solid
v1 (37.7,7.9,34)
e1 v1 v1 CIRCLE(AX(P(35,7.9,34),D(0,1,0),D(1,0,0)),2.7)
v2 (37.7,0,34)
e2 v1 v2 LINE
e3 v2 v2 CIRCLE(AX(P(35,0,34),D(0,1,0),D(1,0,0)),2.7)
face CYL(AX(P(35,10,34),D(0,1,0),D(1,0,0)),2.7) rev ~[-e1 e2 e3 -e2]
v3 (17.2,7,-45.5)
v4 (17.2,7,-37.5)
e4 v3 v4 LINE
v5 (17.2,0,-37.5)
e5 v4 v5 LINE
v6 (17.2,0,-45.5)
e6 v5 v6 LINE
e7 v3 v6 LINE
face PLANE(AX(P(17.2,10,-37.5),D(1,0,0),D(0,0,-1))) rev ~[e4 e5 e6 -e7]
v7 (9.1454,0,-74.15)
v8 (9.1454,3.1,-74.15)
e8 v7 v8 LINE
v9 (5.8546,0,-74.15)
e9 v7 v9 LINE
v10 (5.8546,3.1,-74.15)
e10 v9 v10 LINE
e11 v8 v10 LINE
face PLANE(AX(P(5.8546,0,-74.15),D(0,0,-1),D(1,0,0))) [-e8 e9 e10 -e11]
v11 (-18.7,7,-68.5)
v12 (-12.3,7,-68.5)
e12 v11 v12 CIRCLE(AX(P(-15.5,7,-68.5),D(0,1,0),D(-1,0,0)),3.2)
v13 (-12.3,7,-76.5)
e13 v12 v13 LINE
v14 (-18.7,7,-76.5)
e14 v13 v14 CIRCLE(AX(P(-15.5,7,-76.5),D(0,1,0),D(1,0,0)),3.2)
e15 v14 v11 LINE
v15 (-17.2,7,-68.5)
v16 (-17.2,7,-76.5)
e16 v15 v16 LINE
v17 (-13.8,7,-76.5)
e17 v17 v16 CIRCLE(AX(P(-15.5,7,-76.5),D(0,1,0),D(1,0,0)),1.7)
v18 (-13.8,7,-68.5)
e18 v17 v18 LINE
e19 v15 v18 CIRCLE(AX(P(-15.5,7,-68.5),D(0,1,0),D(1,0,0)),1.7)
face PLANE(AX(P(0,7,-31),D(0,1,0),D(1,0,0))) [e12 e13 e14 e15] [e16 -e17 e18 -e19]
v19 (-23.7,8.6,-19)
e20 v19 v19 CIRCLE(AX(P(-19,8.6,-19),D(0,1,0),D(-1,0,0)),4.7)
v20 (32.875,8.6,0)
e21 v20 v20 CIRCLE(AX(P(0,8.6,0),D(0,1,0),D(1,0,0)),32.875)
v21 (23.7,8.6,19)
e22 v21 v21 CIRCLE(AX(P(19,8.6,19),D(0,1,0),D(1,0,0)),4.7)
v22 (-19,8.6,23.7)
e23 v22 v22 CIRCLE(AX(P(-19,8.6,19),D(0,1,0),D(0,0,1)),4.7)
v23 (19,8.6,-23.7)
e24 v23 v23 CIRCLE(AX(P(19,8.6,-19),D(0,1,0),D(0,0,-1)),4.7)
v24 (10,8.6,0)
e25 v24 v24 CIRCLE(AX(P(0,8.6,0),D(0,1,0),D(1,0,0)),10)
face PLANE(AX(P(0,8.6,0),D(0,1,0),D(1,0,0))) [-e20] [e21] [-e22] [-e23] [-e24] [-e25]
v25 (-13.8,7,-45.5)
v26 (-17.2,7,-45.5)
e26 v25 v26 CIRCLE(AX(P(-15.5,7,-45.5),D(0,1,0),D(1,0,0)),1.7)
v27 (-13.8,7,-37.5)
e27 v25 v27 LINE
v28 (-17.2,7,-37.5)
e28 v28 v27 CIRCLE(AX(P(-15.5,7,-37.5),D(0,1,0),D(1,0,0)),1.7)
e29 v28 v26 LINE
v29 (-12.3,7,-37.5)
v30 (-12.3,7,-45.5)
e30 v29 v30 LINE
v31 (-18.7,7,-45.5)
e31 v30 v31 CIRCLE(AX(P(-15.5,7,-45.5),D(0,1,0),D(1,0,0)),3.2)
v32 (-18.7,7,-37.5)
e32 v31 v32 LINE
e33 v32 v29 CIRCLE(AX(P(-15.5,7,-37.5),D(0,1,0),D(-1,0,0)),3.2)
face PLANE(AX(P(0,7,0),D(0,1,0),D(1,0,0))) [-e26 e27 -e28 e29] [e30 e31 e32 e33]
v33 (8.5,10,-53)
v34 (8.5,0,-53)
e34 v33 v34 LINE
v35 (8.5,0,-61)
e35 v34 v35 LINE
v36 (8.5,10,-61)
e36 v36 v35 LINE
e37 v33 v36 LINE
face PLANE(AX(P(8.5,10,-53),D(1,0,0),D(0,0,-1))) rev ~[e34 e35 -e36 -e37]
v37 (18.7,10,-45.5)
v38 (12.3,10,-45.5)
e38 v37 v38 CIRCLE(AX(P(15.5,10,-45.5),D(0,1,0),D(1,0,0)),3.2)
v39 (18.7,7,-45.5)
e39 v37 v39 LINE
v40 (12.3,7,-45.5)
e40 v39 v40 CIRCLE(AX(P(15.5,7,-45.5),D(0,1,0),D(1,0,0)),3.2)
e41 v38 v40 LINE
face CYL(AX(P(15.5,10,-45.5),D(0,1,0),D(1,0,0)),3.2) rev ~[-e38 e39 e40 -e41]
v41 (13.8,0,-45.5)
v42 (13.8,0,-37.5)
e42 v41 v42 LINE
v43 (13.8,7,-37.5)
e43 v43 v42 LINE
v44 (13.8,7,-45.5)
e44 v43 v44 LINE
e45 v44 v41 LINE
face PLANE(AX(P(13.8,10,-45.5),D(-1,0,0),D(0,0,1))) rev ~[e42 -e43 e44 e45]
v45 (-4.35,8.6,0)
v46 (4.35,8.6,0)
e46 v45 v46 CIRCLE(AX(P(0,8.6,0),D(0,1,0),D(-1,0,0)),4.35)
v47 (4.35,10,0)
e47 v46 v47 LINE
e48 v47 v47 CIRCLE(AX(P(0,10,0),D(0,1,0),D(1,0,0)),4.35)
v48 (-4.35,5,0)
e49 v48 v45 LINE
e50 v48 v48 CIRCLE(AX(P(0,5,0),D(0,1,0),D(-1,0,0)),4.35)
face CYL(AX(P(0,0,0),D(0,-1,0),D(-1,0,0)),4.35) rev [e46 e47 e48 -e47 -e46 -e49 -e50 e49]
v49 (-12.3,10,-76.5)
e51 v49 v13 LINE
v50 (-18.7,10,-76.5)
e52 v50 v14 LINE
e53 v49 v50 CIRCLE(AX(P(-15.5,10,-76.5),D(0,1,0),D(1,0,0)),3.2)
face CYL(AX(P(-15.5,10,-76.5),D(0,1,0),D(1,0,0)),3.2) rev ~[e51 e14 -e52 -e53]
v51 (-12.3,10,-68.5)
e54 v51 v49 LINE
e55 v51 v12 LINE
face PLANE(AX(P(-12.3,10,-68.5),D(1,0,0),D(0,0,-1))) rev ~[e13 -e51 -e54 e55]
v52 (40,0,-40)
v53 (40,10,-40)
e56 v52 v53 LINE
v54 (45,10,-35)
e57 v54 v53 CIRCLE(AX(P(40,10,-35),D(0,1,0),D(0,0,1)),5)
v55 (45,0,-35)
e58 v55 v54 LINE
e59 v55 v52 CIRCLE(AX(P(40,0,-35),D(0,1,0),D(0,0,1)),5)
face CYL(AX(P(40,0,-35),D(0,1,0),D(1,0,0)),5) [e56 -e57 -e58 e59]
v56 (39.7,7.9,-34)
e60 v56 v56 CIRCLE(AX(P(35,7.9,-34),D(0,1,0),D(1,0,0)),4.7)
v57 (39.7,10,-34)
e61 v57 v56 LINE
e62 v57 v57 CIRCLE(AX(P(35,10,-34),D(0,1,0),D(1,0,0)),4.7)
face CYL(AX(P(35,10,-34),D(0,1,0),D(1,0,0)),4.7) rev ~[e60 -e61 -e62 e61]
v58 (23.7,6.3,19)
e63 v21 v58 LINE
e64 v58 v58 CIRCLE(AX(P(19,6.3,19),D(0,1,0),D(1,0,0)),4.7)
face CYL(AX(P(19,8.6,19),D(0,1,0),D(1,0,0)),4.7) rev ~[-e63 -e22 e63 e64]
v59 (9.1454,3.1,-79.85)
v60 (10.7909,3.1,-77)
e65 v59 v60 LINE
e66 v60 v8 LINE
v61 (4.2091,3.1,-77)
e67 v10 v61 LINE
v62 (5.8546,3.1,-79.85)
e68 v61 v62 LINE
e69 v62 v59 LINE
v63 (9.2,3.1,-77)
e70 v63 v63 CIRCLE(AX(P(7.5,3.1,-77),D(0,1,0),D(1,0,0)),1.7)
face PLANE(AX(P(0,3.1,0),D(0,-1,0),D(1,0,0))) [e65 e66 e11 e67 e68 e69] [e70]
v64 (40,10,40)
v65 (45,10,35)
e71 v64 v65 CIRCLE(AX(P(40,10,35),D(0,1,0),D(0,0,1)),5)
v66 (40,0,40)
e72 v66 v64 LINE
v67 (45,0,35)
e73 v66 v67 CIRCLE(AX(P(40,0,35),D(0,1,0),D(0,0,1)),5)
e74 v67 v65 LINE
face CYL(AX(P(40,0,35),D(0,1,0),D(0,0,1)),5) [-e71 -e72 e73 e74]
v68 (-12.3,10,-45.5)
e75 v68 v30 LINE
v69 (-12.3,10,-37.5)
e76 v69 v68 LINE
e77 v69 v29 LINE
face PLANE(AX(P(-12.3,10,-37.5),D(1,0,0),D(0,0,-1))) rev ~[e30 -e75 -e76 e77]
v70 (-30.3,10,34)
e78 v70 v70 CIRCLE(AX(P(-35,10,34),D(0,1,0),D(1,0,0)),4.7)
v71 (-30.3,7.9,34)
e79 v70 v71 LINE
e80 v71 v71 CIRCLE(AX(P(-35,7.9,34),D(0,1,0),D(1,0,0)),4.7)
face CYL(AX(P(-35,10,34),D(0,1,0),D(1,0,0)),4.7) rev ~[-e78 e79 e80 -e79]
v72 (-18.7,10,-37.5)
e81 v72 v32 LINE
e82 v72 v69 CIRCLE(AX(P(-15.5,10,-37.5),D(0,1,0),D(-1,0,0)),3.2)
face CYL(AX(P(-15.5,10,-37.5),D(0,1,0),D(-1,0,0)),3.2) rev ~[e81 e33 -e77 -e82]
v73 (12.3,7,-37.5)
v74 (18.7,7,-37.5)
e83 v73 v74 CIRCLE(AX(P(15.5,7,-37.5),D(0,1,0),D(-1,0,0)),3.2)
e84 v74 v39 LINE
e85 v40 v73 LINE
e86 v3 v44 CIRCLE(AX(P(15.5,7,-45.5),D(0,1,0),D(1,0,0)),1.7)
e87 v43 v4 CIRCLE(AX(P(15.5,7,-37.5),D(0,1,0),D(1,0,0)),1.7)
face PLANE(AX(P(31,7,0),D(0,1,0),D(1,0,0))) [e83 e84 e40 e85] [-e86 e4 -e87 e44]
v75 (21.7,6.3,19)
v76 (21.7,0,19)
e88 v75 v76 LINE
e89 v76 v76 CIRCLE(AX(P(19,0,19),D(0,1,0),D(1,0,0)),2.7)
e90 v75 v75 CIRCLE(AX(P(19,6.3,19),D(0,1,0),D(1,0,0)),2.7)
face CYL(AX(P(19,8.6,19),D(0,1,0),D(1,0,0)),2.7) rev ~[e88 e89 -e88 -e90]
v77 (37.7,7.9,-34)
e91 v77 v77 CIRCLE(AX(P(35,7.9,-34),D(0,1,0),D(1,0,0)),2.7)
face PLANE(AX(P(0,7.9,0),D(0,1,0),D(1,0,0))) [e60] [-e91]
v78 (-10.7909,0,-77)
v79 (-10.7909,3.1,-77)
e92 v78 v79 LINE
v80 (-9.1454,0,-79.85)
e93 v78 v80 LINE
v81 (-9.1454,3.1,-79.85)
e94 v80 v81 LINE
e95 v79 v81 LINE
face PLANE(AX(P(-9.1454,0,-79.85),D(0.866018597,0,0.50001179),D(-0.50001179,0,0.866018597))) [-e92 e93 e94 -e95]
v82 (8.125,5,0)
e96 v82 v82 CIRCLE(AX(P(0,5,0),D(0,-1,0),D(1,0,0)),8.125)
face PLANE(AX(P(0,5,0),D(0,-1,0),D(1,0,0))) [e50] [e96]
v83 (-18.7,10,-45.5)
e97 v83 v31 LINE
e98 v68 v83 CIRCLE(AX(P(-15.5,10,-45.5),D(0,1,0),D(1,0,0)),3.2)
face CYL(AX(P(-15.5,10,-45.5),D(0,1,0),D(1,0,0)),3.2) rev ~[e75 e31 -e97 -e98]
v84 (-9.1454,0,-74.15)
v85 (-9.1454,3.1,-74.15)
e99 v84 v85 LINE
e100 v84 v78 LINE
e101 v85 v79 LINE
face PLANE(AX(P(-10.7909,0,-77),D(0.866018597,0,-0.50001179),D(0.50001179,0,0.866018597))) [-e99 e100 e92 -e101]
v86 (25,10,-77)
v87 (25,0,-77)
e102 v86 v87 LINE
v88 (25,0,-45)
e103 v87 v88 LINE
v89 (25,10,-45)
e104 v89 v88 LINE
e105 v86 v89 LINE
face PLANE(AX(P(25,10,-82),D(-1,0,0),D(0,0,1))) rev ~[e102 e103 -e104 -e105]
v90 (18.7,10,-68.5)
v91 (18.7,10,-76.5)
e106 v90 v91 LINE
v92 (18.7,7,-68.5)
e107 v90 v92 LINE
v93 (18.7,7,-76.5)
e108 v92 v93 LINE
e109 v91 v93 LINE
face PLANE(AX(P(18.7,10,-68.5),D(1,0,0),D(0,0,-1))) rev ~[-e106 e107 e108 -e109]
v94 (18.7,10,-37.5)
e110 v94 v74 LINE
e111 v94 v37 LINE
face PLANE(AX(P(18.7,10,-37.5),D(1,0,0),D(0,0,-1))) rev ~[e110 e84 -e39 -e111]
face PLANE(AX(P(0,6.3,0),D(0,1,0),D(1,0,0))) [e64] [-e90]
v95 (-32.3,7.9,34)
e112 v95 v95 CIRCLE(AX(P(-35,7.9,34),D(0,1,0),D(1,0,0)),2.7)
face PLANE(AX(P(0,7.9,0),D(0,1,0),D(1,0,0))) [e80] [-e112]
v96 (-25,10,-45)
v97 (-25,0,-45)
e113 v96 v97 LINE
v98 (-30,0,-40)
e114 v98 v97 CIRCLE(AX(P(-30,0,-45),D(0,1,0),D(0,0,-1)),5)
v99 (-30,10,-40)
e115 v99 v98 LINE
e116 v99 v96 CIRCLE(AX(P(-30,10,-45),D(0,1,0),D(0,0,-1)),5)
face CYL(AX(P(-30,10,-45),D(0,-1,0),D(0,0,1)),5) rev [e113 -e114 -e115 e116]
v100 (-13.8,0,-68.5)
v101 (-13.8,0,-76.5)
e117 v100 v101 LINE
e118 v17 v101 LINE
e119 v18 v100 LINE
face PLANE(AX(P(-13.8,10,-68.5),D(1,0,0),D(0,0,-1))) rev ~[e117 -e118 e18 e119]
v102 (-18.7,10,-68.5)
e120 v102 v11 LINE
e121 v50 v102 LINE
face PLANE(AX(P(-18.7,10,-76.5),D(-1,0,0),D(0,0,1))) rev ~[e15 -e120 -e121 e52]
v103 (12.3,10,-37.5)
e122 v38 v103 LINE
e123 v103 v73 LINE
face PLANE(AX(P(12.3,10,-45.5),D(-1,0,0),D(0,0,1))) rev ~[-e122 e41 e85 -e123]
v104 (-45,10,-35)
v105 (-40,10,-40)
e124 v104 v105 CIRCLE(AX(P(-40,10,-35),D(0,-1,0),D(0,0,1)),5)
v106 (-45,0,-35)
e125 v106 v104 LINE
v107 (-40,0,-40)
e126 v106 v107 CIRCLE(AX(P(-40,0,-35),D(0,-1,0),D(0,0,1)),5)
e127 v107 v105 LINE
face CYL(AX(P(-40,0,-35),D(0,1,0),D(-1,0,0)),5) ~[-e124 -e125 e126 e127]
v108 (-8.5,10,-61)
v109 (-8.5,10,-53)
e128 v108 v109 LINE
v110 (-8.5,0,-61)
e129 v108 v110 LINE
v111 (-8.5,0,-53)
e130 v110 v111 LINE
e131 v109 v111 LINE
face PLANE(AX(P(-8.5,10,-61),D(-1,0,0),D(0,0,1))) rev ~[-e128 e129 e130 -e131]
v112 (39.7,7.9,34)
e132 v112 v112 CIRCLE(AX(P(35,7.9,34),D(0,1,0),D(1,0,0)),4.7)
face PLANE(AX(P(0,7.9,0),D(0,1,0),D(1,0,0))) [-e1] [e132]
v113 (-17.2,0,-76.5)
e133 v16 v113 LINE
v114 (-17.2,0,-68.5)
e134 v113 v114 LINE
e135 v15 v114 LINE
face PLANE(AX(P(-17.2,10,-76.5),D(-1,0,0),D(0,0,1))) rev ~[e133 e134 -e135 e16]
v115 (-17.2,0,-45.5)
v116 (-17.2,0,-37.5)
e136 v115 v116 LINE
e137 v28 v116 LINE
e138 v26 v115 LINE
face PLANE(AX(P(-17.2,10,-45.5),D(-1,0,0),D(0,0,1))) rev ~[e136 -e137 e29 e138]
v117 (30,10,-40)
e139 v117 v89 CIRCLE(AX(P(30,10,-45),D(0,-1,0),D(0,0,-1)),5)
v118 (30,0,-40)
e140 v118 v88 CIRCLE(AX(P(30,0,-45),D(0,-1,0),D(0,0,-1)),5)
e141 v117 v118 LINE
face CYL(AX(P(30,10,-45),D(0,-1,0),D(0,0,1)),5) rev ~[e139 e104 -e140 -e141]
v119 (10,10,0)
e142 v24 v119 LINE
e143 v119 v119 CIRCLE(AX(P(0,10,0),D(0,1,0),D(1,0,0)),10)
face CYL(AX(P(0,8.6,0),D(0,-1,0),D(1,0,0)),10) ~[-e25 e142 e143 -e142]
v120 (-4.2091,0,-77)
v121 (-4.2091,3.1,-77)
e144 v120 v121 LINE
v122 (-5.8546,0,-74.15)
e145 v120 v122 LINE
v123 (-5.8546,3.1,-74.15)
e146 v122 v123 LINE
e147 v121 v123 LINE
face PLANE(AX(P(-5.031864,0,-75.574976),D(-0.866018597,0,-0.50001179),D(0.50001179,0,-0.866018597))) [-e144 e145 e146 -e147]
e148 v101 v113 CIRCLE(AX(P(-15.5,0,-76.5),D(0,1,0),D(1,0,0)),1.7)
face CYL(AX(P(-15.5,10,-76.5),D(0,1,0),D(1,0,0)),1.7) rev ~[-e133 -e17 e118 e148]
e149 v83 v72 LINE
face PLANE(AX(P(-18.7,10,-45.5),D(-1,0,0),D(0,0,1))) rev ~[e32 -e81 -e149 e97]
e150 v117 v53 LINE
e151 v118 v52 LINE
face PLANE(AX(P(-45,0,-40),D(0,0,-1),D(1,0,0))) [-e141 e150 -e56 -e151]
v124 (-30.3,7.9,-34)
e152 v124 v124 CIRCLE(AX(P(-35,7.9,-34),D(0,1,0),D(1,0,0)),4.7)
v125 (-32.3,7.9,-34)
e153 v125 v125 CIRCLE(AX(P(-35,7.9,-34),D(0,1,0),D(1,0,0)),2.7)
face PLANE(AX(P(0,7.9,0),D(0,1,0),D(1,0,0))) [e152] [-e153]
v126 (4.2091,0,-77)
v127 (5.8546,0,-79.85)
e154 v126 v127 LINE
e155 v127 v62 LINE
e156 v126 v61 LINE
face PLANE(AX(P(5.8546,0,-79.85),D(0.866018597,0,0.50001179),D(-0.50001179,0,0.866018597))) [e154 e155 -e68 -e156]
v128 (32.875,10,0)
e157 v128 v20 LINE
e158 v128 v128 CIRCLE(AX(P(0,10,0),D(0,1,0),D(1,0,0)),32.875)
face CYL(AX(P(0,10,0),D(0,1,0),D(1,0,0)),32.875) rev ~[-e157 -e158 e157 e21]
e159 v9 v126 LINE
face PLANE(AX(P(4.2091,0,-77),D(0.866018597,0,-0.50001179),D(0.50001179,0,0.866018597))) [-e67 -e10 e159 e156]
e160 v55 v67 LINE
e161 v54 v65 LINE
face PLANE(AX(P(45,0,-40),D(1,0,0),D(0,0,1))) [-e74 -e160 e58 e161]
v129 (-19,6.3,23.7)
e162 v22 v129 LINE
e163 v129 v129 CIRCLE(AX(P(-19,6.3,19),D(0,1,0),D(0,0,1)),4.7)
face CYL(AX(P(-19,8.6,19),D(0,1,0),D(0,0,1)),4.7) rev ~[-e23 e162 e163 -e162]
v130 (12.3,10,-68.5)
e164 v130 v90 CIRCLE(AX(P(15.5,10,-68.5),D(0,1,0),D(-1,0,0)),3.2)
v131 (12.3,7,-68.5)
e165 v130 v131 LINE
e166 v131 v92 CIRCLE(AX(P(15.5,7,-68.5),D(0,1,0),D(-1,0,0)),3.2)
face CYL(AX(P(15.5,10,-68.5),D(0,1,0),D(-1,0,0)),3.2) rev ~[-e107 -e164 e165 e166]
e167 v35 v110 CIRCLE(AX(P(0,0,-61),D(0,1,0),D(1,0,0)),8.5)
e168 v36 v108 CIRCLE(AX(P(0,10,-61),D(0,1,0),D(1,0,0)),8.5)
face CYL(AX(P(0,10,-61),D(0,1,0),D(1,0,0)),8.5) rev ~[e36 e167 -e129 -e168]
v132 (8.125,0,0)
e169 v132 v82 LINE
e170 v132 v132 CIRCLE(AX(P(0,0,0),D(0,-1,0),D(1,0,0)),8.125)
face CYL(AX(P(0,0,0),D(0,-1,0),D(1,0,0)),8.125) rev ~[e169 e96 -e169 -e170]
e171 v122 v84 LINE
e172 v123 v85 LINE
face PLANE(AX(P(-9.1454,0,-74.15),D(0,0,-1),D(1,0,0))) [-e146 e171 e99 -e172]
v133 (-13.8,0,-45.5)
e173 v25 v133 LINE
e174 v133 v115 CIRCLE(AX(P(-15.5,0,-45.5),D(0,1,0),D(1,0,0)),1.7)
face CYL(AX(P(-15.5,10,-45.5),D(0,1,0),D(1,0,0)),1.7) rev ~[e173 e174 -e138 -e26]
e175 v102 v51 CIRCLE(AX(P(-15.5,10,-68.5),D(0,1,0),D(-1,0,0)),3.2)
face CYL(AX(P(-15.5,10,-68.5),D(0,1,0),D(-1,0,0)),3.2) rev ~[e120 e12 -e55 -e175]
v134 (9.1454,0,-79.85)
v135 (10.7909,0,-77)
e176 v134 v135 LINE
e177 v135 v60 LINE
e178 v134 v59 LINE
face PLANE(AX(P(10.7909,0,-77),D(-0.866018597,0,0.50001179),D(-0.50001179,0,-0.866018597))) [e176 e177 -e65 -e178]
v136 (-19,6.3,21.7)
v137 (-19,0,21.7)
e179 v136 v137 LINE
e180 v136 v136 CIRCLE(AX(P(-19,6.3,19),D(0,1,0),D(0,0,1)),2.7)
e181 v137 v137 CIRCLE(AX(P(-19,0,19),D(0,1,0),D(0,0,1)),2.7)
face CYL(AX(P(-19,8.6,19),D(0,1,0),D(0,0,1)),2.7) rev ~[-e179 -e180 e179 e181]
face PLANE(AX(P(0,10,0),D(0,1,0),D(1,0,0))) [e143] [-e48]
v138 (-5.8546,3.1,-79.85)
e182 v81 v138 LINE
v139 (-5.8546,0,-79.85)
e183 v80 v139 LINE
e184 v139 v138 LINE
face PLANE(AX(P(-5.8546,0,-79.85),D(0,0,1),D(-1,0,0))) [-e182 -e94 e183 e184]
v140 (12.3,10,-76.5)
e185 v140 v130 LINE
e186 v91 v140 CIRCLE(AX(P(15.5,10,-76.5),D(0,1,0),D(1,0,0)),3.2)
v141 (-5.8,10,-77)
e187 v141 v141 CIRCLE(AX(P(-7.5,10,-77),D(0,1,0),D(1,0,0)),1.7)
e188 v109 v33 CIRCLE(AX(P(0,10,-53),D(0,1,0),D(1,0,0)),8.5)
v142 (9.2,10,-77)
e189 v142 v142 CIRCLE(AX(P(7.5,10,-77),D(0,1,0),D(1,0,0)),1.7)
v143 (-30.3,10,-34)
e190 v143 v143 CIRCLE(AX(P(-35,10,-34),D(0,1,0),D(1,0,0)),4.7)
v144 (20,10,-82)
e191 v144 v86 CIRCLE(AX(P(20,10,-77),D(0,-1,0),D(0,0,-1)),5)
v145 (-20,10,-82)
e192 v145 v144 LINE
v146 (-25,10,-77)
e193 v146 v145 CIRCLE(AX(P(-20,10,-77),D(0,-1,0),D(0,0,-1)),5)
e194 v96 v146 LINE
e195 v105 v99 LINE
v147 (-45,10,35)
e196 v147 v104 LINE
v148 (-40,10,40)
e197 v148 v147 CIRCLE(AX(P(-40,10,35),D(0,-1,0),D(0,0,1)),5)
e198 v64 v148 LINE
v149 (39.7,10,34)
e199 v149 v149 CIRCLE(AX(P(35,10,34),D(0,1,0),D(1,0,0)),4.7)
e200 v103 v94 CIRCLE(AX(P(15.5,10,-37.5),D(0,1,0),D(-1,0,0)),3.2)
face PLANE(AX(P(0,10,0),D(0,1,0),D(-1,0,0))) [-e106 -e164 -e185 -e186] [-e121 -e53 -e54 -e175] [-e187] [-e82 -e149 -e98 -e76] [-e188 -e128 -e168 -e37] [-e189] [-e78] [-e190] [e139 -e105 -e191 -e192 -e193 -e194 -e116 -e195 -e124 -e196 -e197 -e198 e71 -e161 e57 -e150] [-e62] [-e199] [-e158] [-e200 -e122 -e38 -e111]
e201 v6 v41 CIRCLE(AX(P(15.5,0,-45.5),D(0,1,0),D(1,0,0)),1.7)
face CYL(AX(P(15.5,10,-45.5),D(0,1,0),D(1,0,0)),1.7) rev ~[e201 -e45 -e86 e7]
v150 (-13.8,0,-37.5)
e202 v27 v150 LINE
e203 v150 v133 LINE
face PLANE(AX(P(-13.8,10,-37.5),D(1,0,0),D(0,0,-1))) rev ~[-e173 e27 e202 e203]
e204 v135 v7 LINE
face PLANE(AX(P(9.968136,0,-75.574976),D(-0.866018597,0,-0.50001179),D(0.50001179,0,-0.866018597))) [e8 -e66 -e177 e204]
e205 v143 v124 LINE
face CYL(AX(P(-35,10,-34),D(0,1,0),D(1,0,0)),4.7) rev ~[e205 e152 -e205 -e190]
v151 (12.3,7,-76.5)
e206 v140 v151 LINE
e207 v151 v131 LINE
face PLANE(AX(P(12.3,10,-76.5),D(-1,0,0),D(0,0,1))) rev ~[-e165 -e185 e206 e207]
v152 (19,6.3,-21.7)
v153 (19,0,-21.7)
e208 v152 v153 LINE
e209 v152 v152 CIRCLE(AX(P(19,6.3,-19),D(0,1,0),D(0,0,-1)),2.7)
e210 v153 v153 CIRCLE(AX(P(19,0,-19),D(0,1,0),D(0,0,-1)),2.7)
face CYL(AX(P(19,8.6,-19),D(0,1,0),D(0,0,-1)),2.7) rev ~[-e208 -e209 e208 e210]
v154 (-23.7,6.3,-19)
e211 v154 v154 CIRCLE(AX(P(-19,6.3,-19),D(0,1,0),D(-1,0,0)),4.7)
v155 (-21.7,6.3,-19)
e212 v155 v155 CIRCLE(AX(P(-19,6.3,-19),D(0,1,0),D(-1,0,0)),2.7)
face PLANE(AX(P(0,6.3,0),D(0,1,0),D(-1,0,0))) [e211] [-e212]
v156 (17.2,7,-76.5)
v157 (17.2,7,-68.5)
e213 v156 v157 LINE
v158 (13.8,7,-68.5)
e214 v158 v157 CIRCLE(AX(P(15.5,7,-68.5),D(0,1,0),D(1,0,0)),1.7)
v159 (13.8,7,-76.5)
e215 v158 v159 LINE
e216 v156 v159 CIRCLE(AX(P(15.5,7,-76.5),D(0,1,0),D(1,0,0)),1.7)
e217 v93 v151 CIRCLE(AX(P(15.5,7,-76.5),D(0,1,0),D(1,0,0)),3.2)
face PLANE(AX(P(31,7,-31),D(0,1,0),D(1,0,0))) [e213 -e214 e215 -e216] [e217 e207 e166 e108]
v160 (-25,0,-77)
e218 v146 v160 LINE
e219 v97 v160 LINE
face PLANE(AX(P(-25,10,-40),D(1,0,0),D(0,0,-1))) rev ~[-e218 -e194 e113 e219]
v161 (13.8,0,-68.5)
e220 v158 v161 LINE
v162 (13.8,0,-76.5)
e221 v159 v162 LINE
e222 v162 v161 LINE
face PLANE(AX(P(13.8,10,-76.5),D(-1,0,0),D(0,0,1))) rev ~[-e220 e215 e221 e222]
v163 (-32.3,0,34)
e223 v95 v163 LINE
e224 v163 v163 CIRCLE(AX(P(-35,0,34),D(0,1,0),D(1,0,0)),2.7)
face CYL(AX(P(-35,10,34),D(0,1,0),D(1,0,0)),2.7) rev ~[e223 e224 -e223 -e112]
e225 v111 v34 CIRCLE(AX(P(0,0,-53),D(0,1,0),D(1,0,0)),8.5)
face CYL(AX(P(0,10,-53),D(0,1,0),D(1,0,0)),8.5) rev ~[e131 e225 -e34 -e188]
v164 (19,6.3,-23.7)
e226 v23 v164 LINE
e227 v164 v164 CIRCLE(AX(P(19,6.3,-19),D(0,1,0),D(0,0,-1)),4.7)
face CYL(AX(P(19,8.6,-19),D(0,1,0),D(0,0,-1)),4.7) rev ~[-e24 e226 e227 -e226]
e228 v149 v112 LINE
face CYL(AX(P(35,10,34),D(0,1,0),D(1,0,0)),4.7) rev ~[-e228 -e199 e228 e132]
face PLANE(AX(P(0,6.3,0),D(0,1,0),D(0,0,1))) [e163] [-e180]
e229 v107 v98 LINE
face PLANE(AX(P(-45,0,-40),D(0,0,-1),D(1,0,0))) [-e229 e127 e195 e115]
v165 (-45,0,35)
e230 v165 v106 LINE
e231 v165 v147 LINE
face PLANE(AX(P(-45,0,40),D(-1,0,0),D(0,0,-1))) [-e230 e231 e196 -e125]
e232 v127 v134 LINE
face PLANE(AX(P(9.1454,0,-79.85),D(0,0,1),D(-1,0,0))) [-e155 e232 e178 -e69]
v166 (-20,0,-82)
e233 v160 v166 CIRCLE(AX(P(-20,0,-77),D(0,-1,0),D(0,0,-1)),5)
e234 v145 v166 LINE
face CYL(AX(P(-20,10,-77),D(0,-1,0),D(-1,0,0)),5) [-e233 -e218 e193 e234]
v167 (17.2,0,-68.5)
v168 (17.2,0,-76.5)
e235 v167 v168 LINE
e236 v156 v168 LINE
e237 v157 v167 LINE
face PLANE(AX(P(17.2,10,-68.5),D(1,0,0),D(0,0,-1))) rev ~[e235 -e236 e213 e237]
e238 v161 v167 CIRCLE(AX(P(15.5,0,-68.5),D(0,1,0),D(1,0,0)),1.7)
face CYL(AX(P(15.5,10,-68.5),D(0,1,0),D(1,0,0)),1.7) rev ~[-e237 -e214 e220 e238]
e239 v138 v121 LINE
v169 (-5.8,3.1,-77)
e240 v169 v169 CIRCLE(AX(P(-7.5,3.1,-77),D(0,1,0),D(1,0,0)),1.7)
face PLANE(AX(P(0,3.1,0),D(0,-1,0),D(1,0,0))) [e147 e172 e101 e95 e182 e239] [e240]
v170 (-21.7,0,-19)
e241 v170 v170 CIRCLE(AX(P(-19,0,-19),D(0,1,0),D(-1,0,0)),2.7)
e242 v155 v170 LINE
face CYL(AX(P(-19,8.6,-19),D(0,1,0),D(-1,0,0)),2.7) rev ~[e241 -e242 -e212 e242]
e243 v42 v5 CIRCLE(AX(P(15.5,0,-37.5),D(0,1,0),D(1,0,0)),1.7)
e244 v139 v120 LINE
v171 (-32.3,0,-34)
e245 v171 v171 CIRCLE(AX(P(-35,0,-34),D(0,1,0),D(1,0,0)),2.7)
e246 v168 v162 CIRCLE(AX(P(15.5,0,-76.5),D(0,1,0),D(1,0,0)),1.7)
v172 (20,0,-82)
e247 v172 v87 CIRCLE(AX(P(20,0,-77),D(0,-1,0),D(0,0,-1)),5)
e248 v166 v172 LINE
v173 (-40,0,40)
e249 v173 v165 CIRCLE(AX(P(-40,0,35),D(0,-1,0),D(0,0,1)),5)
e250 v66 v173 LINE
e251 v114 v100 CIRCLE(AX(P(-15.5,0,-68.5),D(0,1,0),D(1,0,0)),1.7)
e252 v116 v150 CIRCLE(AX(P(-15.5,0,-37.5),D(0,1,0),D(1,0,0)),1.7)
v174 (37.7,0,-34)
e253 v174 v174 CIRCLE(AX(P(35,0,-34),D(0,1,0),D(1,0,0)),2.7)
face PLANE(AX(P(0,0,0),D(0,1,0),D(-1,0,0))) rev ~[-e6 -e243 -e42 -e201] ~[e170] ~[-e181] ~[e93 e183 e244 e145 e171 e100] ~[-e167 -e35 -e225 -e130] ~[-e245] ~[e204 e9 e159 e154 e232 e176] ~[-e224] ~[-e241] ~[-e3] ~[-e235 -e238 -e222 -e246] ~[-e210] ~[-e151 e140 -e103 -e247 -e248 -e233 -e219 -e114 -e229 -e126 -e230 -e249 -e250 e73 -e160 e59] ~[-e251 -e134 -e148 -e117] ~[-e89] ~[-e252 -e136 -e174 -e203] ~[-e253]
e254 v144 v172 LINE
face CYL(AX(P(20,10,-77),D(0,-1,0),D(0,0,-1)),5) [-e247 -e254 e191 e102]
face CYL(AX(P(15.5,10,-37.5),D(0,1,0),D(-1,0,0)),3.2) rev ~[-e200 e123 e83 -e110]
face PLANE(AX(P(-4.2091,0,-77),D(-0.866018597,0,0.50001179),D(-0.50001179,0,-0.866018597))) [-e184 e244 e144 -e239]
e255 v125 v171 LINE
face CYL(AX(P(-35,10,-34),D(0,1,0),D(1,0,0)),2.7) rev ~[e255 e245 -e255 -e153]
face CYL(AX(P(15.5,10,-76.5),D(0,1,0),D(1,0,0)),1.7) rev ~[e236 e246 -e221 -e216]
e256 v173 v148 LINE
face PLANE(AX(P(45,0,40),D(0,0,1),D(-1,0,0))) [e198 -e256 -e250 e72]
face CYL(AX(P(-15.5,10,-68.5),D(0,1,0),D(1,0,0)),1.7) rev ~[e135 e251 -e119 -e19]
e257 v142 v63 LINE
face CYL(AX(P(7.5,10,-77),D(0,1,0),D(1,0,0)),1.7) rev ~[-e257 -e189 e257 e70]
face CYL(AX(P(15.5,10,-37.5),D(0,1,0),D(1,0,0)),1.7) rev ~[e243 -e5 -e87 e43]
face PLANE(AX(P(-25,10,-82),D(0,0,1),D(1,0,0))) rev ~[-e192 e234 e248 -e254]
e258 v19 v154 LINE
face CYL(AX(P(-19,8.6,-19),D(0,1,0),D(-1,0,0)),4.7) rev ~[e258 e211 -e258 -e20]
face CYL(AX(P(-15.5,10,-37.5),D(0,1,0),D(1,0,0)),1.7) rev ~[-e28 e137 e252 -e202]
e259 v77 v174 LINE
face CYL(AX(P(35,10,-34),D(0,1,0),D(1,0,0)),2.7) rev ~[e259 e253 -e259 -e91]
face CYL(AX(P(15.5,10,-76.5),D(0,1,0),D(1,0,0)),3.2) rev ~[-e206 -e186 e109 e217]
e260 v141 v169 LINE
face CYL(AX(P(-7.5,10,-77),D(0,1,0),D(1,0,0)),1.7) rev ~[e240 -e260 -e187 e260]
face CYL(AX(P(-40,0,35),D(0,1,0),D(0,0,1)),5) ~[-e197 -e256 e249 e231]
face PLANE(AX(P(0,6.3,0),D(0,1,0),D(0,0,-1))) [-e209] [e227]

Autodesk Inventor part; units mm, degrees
ref_plane "YZ Plane" through (0, 0, 0) normal (1, 0, 0) x (0, 1, 0)
ref_plane "XZ Plane" through (0, 0, 0) normal (0, 1, 0) x (-1, 0, 0)
ref_plane "XY Plane" through (0, 0, 0) normal (0, 0, 1) x (1, 0, 0)
sketch "Boceto1" plane through (0, 0, 0) normal (0, 1, 0) x (-1, 0, 0)
  circle A0 centre (0, 0) radius 4.35
  line L0 (-45, 40) -> (45, 40)
  line L1 (45, 40) -> (45, -40)
  line L2 (45, -40) -> (-45, -40)
  line L3 (-45, -40) -> (-45, 40)
  line L4 (-45, 40) -> (45, -40) construction
  line L5 (45, 40) -> (-45, -40) construction
  dimension "d0" = 8.7
  dimension "d1" = 80
  dimension "d2" = 90
extrude "Extrusión1" add sketch "Boceto1" along normal blind 10
sketch "Boceto2" plane through (0, 10, 0) normal (0, 1, 0) x (1, 0, 0)
  circle A0 centre (0, 0) radius 4.35 projected
  circle A1 centre (0, 0) radius 32.875
  dimension "d5" = 65.75
extrude "Extrusión2" cut sketch "Boceto2" against normal blind 1.4
sketch "Boceto3" plane through (0, 8.6, 0) normal (0, 1, 0) x (1, 0, 0)
  circle A0 centre (0, 0) radius 4.35 projected
  circle A1 centre (0, 0) radius 10
  dimension "d8" = 20
extrude "Extrusión3" add sketch "Boceto3" along normal up to surface (1.4 mm away)
sketch "Boceto4" plane through (0, 8.6, 0) normal (0, 1, 0) x (1, 0, 0)
  circle A0 centre (0, -18.25) radius 2.65
  circle A1 centre (0, 18.25) radius 2.65
  point P0 (0, 0)
  dimension "d11" = 5.3
  dimension "d12" = 36.5
  dimension "d13" = 18.25
extrude "Extrusión4" [suppressed]
sketch "Boceto5" plane through (0, 8.6, 0) normal (0, 1, 0) x (1, 0, 0)
  circle A0 centre (0, -18.25) radius 2.65 projected
  circle A1 centre (0, -18.25) radius 4.05
  circle A2 centre (0, 18.25) radius 2.65 projected
  circle A3 centre (0, 18.25) radius 4.05
  line L0 (-4.6765, -18.25) -> (-2.3383, -14.2)
  line L1 (-2.3383, -14.2) -> (2.3383, -14.2)
  line L2 (2.3383, -14.2) -> (4.6765, -18.25)
  line L3 (4.6765, -18.25) -> (2.3383, -22.3)
  line L4 (2.3383, -22.3) -> (-2.3383, -22.3)
  line L5 (-2.3383, -22.3) -> (-4.6765, -18.25)
  line L6 (-4.6765, 18.25) -> (-2.3383, 22.3)
  line L7 (-2.3383, 22.3) -> (2.3383, 22.3)
  line L8 (2.3383, 22.3) -> (4.6765, 18.25)
  line L9 (4.6765, 18.25) -> (2.3383, 14.2)
  line L10 (2.3383, 14.2) -> (-2.3383, 14.2)
  line L11 (-2.3383, 14.2) -> (-4.6765, 18.25)
  point P0 (0, 0)
  dimension "d16" = 8.1
extrude "Extrusión5" [suppressed]
sketch "Boceto6" plane through (0, 10, 0) normal (0, 1, 0) x (1, 0, 0)
  circle A0 centre (-35, 34) radius 2.7
  circle A1 centre (35, 34) radius 2.7
  circle A2 centre (-35, -34) radius 2.7
  circle A3 centre (35, -34) radius 2.7
  line L0 (-45, 40) -> (-45, -40) projected
  line L1 (45, 40) -> (-45, 40) projected
  line L2 (-45, -40) -> (45, -40) projected
  line L3 (45, -40) -> (45, 40) projected
  point P0 (0, 0)
  dimension "d19" = 5.4
  dimension "d20" = 10
  dimension "d21" = 6
  dimension "d22" = 6
  dimension "d23" = 10
extrude "Extrusión6" cut sketch "Boceto6" against normal through all contours A0 | A1 | A2 | A3
fillet "Empalme1" radius 5 4 edges at (45, 5, 40) (45, 5, -40) (-45, 5, 40) (-45, 5, -40)
sketch "Boceto7" plane through (0, 10, 0) normal (0, 1, 0) x (1, 0, 0)
  circle A0 centre (-35, -34) radius 2.7 projected
  circle A1 centre (-35, -34) radius 4.7
  circle A2 centre (35, -34) radius 2.7 projected
  circle A3 centre (35, -34) radius 4.7
  circle A4 centre (35, 34) radius 2.7 projected
  circle A5 centre (35, 34) radius 4.7
  circle A6 centre (-35, 34) radius 2.7 projected
  circle A7 centre (-35, 34) radius 4.7
  point P0 (0, 0)
  dimension "d27" = 9.4
extrude "Extrusión7" cut sketch "Boceto7" against normal blind 2.1 contours A0 | A1 | A2 | A3 | A4 | A5 | A6 | A7
sketch "Boceto9" plane through (0, 0, 0) normal (0, -1, 0) x (1, 0, 0)
  circle A0 centre (0, 0) radius 4.35 projected
  circle A1 centre (0, 0) radius 8.125
  dimension "d32" = 16.25
extrude "Extrusión9" cut sketch "Boceto9" against normal blind 5 contours A0 | A1
sketch "Boceto10" plane through (0, 8.6, 0) normal (0, 1, 0) x (1, 0, 0)
  circle A0 centre (19, -19) radius 2.7
  line L0 (26, 26) -> (-26, 26)
  line L1 (-26, 26) -> (-26, -26)
  line L2 (-26, -26) -> (26, -26)
  line L3 (26, -26) -> (26, 26)
  circle A1 centre (0, 0) radius 4.35 projected
  line L4 (26, 26) -> (-26, -26) construction
  line L5 (-26, 26) -> (26, -26) construction
  circle A2 centre (0, 0) radius 10 projected
  circle A3 centre (0, 0) radius 21
  circle A4 centre (19, -19) radius 5
  line L6 (-19, 19) -> (19, 19)
  line L7 (19, 19) -> (19, -19)
  line L8 (19, -19) -> (-19, -19)
  line L9 (-19, -19) -> (-19, 19)
  line L10 (-19, 19) -> (19, -19) construction
  line L11 (19, 19) -> (-19, -19) construction
  dimension "d35" = 52
  dimension "d36" = 52
  dimension "d37" = 42
  dimension "d38" = 5.4
  dimension "d39" = 10
  dimension "d40" = 38
extrude "Extrusión10" cut sketch "Boceto10" against normal through all contours A0 L8 L7 | L7 L8 A0
sketch "Boceto11" plane through (0, 8.6, 0) normal (0, 1, 0) x (1, 0, 0)
  circle A0 centre (19, -19) radius 2.7 projected
  circle A1 centre (19, -19) radius 4.7
  point P0 (0, 0)
  dimension "d43" = 9.4
extrude "Extrusión11" cut sketch "Boceto11" against normal blind 2.3
pattern_circular "Patrón circular1" count 4 over 360 about axis through (0, 8.6, 0) along (0, 1, 0) of "Extrusión10", "Extrusión11"
sketch "Boceto12" plane through (0, 10, 0) normal (0, 1, 0) x (1, 0, 0)
  line L0 (40, 40) -> (-40, 40) projected
  line L1 (25, 40) -> (-25, 40)
  line L2 (-25, 40) -> (-25, 82)
  line L3 (-25, 82) -> (25, 82)
  line L4 (25, 82) -> (25, 40)
  point P0 (0, 0)
  point P1 (-25, 40)
  dimension "d49" = 25
  dimension "d50" = 25
  dimension "d51" = 42
extrude "Extrusión12" add sketch "Boceto12" against normal up to surface (10 mm away)
fillet "Empalme2" radius 5 4 edges at (25, 5, -40) (25, 5, -82) (-25, 5, -82) (-25, 5, -40)
sketch "Boceto13" plane through (0, 10, 0) normal (0, 1, 0) x (1, 0, 0)
  circle A0 centre (0, 53) radius 8.5
  circle A1 centre (0, 61) radius 8.5
  line L0 (-8.5, 53) -> (8.5, 53)
  line L1 (8.5, 53) -> (8.5, 61)
  line L2 (8.5, 61) -> (-8.5, 61)
  line L3 (-8.5, 61) -> (-8.5, 53)
  line L4 (20, 82) -> (-20, 82) projected
  point P0 (0, 0)
  point P1 (-8.5, 61)
  dimension "d55" = 17
  dimension "d56" = 21
  dimension "d57" = 8
extrude "Extrusión13" cut sketch "Boceto13" against normal through all
sketch "Boceto14" plane through (0, 10, 0) normal (0, 1, 0) x (1, 0, 0)
  circle A0 centre (-15.5, 37.5) radius 1.7
  line L0 (-17.2, 37.5) -> (-13.8, 37.5)
  line L1 (-13.8, 37.5) -> (-13.8, 45.5)
  line L2 (-13.8, 45.5) -> (-17.2, 45.5)
  line L3 (-17.2, 45.5) -> (-17.2, 37.5)
  circle A1 centre (-15.5, 45.5) radius 1.7
  arc A2 (-8.5, 53) -> (8.5, 53) centre (0, 53) ccw projected
  line L4 (0, 53) -> (-15.5, 53)
  line L5 (-15.5, 53) -> (-15.5, 37.5)
  line L6 (-15.5, 37.5) -> (0, 37.5)
  line L7 (0, 37.5) -> (0, 53)
  point P0 (0, 0)
  point P1 (-13.8, 45.5)
  dimension "d62" = 3.4
  dimension "d60" = 15.5
  dimension "d61" = 15.5
  dimension "d63" = 8
extrude "Extrusión14" cut sketch "Boceto14" against normal through all contours L0 A0 | L3 A1 L5 A0 | A0 L5 L0 | L0 L5 A0 | A0 L5 A1 L1 | A1 L5 L2 | L2 L5 A1 | A1 L5 L2 | L2 L5 A1
pattern_linear "Patrón rectangular1" count 2 spacing 31 along (0, 0, -1) count 2 spacing 31 along (1, 0, 0) of "Extrusión14"
sketch "Boceto15" plane through (0, 10, 0) normal (0, 1, 0) x (1, 0, 0)
  arc A0 (-17.2, 37.5) -> (-13.8, 37.5) centre (-15.5, 37.5) ccw projected
  line L0 (-17.2, 37.5) -> (-17.2, 45.5) projected
  line L1 (-13.8, 45.5) -> (-13.8, 37.5) projected
  arc A1 (-13.8, 45.5) -> (-17.2, 45.5) centre (-15.5, 45.5) ccw projected
  line L2 (-18.7, 45.5) -> (-18.7, 37.5)
  arc A2 (-18.7, 37.5) -> (-12.3, 37.5) centre (-15.5, 37.5) ccw
  line L3 (-12.3, 37.5) -> (-12.3, 45.5)
  arc A3 (-12.3, 45.5) -> (-18.7, 45.5) centre (-15.5, 45.5) ccw
  point P0 (0, 0)
  point P1 (-17.2, 28.0165)
  point P2 (-13.8, 29.8383)
  dimension "d72" = 1.5
extrude "Extrusión15" cut sketch "Boceto15" against normal blind 3 contours L0 A1 L1 A0 | A3 L3 A2 L2
pattern_linear "Patrón rectangular2" count 2 spacing 31 along (0, 0, -1) count 2 spacing 31 along (1, 0, 0) of "Extrusión15"
sketch "Boceto16" plane through (0, 10, 0) normal (0, 1, 0) x (1, 0, 0)
  circle A0 centre (-7.5, 77) radius 1.7
  circle A1 centre (7.5, 77) radius 1.7
  arc A2 (8.5, 61) -> (-8.5, 61) centre (0, 61) ccw projected
  line L0 (20, 82) -> (-20, 82) projected
  point P0 (0, 0)
  dimension "d81" = 3.4
  dimension "d82" = 15
  dimension "d83" = 7.5
  dimension "d84" = 5
extrude "Extrusión16" cut sketch "Boceto16" against normal through all
sketch "Boceto17" plane through (0, 0, 0) normal (0, -1, 0) x (1, 0, 0)
  circle A0 centre (-7.5, -77) radius 1.7 projected
  circle A1 centre (-7.5, -77) radius 2.85
  circle A2 centre (7.5, -77) radius 1.7 projected
  circle A3 centre (7.5, -77) radius 2.85
  line L0 (-4.2091, -77) -> (-5.8546, -79.85)
  line L1 (-5.8546, -79.85) -> (-9.1454, -79.85)
  line L2 (-9.1454, -79.85) -> (-10.7909, -77)
  line L3 (-10.7909, -77) -> (-9.1454, -74.15)
  line L4 (-9.1454, -74.15) -> (-5.8546, -74.15)
  line L5 (-5.8546, -74.15) -> (-4.2091, -77)
  line L6 (10.7909, -77) -> (9.1454, -79.85)
  line L7 (9.1454, -79.85) -> (5.8546, -79.85)
  line L8 (5.8546, -79.85) -> (4.2091, -77)
  line L9 (4.2091, -77) -> (5.8546, -74.15)
  line L10 (5.8546, -74.15) -> (9.1454, -74.15)
  line L11 (9.1454, -74.15) -> (10.7909, -77)
  point P0 (0, 0)
  dimension "d87" = 5.7
extrude "Extrusión17" cut sketch "Boceto17" against normal blind 3.1 contours A0 | A1 | A1 L5 L0 | A1 L4 L5 | L0 L1 A1 | A1 L3 L4 | L1 L2 A1 | A1 L2 L3 | A2 | A3 | A3 L11 L6 | A3 L10 L11 | L6 L7 A3 | A3 L9 L10 | L7 L8 A3 | A3 L8 L9
sketch "Boceto8" plane through (0, 10, 0) normal (0, 1, 0) x (1, 0, 0)
  line L0 (4.981, 25.0262) -> (-4.981, 25.0262)
  line L1 (-4.981, 25.0262) -> (-4.981, 54.9738)
  line L2 (-4.981, 54.9738) -> (4.981, 54.9738)
  line L3 (4.981, 54.9738) -> (4.981, 25.0262)
  line L4 (40, 40) -> (-40, 40) projected
  line L5 (4.981, 25.0262) -> (-4.981, 54.9738) construction
  line L6 (-4.981, 25.0262) -> (4.981, 54.9738) construction
  point P0 (0, 0)
  point P1 (0, 40)
properties part number "Shoulderbasetop"
